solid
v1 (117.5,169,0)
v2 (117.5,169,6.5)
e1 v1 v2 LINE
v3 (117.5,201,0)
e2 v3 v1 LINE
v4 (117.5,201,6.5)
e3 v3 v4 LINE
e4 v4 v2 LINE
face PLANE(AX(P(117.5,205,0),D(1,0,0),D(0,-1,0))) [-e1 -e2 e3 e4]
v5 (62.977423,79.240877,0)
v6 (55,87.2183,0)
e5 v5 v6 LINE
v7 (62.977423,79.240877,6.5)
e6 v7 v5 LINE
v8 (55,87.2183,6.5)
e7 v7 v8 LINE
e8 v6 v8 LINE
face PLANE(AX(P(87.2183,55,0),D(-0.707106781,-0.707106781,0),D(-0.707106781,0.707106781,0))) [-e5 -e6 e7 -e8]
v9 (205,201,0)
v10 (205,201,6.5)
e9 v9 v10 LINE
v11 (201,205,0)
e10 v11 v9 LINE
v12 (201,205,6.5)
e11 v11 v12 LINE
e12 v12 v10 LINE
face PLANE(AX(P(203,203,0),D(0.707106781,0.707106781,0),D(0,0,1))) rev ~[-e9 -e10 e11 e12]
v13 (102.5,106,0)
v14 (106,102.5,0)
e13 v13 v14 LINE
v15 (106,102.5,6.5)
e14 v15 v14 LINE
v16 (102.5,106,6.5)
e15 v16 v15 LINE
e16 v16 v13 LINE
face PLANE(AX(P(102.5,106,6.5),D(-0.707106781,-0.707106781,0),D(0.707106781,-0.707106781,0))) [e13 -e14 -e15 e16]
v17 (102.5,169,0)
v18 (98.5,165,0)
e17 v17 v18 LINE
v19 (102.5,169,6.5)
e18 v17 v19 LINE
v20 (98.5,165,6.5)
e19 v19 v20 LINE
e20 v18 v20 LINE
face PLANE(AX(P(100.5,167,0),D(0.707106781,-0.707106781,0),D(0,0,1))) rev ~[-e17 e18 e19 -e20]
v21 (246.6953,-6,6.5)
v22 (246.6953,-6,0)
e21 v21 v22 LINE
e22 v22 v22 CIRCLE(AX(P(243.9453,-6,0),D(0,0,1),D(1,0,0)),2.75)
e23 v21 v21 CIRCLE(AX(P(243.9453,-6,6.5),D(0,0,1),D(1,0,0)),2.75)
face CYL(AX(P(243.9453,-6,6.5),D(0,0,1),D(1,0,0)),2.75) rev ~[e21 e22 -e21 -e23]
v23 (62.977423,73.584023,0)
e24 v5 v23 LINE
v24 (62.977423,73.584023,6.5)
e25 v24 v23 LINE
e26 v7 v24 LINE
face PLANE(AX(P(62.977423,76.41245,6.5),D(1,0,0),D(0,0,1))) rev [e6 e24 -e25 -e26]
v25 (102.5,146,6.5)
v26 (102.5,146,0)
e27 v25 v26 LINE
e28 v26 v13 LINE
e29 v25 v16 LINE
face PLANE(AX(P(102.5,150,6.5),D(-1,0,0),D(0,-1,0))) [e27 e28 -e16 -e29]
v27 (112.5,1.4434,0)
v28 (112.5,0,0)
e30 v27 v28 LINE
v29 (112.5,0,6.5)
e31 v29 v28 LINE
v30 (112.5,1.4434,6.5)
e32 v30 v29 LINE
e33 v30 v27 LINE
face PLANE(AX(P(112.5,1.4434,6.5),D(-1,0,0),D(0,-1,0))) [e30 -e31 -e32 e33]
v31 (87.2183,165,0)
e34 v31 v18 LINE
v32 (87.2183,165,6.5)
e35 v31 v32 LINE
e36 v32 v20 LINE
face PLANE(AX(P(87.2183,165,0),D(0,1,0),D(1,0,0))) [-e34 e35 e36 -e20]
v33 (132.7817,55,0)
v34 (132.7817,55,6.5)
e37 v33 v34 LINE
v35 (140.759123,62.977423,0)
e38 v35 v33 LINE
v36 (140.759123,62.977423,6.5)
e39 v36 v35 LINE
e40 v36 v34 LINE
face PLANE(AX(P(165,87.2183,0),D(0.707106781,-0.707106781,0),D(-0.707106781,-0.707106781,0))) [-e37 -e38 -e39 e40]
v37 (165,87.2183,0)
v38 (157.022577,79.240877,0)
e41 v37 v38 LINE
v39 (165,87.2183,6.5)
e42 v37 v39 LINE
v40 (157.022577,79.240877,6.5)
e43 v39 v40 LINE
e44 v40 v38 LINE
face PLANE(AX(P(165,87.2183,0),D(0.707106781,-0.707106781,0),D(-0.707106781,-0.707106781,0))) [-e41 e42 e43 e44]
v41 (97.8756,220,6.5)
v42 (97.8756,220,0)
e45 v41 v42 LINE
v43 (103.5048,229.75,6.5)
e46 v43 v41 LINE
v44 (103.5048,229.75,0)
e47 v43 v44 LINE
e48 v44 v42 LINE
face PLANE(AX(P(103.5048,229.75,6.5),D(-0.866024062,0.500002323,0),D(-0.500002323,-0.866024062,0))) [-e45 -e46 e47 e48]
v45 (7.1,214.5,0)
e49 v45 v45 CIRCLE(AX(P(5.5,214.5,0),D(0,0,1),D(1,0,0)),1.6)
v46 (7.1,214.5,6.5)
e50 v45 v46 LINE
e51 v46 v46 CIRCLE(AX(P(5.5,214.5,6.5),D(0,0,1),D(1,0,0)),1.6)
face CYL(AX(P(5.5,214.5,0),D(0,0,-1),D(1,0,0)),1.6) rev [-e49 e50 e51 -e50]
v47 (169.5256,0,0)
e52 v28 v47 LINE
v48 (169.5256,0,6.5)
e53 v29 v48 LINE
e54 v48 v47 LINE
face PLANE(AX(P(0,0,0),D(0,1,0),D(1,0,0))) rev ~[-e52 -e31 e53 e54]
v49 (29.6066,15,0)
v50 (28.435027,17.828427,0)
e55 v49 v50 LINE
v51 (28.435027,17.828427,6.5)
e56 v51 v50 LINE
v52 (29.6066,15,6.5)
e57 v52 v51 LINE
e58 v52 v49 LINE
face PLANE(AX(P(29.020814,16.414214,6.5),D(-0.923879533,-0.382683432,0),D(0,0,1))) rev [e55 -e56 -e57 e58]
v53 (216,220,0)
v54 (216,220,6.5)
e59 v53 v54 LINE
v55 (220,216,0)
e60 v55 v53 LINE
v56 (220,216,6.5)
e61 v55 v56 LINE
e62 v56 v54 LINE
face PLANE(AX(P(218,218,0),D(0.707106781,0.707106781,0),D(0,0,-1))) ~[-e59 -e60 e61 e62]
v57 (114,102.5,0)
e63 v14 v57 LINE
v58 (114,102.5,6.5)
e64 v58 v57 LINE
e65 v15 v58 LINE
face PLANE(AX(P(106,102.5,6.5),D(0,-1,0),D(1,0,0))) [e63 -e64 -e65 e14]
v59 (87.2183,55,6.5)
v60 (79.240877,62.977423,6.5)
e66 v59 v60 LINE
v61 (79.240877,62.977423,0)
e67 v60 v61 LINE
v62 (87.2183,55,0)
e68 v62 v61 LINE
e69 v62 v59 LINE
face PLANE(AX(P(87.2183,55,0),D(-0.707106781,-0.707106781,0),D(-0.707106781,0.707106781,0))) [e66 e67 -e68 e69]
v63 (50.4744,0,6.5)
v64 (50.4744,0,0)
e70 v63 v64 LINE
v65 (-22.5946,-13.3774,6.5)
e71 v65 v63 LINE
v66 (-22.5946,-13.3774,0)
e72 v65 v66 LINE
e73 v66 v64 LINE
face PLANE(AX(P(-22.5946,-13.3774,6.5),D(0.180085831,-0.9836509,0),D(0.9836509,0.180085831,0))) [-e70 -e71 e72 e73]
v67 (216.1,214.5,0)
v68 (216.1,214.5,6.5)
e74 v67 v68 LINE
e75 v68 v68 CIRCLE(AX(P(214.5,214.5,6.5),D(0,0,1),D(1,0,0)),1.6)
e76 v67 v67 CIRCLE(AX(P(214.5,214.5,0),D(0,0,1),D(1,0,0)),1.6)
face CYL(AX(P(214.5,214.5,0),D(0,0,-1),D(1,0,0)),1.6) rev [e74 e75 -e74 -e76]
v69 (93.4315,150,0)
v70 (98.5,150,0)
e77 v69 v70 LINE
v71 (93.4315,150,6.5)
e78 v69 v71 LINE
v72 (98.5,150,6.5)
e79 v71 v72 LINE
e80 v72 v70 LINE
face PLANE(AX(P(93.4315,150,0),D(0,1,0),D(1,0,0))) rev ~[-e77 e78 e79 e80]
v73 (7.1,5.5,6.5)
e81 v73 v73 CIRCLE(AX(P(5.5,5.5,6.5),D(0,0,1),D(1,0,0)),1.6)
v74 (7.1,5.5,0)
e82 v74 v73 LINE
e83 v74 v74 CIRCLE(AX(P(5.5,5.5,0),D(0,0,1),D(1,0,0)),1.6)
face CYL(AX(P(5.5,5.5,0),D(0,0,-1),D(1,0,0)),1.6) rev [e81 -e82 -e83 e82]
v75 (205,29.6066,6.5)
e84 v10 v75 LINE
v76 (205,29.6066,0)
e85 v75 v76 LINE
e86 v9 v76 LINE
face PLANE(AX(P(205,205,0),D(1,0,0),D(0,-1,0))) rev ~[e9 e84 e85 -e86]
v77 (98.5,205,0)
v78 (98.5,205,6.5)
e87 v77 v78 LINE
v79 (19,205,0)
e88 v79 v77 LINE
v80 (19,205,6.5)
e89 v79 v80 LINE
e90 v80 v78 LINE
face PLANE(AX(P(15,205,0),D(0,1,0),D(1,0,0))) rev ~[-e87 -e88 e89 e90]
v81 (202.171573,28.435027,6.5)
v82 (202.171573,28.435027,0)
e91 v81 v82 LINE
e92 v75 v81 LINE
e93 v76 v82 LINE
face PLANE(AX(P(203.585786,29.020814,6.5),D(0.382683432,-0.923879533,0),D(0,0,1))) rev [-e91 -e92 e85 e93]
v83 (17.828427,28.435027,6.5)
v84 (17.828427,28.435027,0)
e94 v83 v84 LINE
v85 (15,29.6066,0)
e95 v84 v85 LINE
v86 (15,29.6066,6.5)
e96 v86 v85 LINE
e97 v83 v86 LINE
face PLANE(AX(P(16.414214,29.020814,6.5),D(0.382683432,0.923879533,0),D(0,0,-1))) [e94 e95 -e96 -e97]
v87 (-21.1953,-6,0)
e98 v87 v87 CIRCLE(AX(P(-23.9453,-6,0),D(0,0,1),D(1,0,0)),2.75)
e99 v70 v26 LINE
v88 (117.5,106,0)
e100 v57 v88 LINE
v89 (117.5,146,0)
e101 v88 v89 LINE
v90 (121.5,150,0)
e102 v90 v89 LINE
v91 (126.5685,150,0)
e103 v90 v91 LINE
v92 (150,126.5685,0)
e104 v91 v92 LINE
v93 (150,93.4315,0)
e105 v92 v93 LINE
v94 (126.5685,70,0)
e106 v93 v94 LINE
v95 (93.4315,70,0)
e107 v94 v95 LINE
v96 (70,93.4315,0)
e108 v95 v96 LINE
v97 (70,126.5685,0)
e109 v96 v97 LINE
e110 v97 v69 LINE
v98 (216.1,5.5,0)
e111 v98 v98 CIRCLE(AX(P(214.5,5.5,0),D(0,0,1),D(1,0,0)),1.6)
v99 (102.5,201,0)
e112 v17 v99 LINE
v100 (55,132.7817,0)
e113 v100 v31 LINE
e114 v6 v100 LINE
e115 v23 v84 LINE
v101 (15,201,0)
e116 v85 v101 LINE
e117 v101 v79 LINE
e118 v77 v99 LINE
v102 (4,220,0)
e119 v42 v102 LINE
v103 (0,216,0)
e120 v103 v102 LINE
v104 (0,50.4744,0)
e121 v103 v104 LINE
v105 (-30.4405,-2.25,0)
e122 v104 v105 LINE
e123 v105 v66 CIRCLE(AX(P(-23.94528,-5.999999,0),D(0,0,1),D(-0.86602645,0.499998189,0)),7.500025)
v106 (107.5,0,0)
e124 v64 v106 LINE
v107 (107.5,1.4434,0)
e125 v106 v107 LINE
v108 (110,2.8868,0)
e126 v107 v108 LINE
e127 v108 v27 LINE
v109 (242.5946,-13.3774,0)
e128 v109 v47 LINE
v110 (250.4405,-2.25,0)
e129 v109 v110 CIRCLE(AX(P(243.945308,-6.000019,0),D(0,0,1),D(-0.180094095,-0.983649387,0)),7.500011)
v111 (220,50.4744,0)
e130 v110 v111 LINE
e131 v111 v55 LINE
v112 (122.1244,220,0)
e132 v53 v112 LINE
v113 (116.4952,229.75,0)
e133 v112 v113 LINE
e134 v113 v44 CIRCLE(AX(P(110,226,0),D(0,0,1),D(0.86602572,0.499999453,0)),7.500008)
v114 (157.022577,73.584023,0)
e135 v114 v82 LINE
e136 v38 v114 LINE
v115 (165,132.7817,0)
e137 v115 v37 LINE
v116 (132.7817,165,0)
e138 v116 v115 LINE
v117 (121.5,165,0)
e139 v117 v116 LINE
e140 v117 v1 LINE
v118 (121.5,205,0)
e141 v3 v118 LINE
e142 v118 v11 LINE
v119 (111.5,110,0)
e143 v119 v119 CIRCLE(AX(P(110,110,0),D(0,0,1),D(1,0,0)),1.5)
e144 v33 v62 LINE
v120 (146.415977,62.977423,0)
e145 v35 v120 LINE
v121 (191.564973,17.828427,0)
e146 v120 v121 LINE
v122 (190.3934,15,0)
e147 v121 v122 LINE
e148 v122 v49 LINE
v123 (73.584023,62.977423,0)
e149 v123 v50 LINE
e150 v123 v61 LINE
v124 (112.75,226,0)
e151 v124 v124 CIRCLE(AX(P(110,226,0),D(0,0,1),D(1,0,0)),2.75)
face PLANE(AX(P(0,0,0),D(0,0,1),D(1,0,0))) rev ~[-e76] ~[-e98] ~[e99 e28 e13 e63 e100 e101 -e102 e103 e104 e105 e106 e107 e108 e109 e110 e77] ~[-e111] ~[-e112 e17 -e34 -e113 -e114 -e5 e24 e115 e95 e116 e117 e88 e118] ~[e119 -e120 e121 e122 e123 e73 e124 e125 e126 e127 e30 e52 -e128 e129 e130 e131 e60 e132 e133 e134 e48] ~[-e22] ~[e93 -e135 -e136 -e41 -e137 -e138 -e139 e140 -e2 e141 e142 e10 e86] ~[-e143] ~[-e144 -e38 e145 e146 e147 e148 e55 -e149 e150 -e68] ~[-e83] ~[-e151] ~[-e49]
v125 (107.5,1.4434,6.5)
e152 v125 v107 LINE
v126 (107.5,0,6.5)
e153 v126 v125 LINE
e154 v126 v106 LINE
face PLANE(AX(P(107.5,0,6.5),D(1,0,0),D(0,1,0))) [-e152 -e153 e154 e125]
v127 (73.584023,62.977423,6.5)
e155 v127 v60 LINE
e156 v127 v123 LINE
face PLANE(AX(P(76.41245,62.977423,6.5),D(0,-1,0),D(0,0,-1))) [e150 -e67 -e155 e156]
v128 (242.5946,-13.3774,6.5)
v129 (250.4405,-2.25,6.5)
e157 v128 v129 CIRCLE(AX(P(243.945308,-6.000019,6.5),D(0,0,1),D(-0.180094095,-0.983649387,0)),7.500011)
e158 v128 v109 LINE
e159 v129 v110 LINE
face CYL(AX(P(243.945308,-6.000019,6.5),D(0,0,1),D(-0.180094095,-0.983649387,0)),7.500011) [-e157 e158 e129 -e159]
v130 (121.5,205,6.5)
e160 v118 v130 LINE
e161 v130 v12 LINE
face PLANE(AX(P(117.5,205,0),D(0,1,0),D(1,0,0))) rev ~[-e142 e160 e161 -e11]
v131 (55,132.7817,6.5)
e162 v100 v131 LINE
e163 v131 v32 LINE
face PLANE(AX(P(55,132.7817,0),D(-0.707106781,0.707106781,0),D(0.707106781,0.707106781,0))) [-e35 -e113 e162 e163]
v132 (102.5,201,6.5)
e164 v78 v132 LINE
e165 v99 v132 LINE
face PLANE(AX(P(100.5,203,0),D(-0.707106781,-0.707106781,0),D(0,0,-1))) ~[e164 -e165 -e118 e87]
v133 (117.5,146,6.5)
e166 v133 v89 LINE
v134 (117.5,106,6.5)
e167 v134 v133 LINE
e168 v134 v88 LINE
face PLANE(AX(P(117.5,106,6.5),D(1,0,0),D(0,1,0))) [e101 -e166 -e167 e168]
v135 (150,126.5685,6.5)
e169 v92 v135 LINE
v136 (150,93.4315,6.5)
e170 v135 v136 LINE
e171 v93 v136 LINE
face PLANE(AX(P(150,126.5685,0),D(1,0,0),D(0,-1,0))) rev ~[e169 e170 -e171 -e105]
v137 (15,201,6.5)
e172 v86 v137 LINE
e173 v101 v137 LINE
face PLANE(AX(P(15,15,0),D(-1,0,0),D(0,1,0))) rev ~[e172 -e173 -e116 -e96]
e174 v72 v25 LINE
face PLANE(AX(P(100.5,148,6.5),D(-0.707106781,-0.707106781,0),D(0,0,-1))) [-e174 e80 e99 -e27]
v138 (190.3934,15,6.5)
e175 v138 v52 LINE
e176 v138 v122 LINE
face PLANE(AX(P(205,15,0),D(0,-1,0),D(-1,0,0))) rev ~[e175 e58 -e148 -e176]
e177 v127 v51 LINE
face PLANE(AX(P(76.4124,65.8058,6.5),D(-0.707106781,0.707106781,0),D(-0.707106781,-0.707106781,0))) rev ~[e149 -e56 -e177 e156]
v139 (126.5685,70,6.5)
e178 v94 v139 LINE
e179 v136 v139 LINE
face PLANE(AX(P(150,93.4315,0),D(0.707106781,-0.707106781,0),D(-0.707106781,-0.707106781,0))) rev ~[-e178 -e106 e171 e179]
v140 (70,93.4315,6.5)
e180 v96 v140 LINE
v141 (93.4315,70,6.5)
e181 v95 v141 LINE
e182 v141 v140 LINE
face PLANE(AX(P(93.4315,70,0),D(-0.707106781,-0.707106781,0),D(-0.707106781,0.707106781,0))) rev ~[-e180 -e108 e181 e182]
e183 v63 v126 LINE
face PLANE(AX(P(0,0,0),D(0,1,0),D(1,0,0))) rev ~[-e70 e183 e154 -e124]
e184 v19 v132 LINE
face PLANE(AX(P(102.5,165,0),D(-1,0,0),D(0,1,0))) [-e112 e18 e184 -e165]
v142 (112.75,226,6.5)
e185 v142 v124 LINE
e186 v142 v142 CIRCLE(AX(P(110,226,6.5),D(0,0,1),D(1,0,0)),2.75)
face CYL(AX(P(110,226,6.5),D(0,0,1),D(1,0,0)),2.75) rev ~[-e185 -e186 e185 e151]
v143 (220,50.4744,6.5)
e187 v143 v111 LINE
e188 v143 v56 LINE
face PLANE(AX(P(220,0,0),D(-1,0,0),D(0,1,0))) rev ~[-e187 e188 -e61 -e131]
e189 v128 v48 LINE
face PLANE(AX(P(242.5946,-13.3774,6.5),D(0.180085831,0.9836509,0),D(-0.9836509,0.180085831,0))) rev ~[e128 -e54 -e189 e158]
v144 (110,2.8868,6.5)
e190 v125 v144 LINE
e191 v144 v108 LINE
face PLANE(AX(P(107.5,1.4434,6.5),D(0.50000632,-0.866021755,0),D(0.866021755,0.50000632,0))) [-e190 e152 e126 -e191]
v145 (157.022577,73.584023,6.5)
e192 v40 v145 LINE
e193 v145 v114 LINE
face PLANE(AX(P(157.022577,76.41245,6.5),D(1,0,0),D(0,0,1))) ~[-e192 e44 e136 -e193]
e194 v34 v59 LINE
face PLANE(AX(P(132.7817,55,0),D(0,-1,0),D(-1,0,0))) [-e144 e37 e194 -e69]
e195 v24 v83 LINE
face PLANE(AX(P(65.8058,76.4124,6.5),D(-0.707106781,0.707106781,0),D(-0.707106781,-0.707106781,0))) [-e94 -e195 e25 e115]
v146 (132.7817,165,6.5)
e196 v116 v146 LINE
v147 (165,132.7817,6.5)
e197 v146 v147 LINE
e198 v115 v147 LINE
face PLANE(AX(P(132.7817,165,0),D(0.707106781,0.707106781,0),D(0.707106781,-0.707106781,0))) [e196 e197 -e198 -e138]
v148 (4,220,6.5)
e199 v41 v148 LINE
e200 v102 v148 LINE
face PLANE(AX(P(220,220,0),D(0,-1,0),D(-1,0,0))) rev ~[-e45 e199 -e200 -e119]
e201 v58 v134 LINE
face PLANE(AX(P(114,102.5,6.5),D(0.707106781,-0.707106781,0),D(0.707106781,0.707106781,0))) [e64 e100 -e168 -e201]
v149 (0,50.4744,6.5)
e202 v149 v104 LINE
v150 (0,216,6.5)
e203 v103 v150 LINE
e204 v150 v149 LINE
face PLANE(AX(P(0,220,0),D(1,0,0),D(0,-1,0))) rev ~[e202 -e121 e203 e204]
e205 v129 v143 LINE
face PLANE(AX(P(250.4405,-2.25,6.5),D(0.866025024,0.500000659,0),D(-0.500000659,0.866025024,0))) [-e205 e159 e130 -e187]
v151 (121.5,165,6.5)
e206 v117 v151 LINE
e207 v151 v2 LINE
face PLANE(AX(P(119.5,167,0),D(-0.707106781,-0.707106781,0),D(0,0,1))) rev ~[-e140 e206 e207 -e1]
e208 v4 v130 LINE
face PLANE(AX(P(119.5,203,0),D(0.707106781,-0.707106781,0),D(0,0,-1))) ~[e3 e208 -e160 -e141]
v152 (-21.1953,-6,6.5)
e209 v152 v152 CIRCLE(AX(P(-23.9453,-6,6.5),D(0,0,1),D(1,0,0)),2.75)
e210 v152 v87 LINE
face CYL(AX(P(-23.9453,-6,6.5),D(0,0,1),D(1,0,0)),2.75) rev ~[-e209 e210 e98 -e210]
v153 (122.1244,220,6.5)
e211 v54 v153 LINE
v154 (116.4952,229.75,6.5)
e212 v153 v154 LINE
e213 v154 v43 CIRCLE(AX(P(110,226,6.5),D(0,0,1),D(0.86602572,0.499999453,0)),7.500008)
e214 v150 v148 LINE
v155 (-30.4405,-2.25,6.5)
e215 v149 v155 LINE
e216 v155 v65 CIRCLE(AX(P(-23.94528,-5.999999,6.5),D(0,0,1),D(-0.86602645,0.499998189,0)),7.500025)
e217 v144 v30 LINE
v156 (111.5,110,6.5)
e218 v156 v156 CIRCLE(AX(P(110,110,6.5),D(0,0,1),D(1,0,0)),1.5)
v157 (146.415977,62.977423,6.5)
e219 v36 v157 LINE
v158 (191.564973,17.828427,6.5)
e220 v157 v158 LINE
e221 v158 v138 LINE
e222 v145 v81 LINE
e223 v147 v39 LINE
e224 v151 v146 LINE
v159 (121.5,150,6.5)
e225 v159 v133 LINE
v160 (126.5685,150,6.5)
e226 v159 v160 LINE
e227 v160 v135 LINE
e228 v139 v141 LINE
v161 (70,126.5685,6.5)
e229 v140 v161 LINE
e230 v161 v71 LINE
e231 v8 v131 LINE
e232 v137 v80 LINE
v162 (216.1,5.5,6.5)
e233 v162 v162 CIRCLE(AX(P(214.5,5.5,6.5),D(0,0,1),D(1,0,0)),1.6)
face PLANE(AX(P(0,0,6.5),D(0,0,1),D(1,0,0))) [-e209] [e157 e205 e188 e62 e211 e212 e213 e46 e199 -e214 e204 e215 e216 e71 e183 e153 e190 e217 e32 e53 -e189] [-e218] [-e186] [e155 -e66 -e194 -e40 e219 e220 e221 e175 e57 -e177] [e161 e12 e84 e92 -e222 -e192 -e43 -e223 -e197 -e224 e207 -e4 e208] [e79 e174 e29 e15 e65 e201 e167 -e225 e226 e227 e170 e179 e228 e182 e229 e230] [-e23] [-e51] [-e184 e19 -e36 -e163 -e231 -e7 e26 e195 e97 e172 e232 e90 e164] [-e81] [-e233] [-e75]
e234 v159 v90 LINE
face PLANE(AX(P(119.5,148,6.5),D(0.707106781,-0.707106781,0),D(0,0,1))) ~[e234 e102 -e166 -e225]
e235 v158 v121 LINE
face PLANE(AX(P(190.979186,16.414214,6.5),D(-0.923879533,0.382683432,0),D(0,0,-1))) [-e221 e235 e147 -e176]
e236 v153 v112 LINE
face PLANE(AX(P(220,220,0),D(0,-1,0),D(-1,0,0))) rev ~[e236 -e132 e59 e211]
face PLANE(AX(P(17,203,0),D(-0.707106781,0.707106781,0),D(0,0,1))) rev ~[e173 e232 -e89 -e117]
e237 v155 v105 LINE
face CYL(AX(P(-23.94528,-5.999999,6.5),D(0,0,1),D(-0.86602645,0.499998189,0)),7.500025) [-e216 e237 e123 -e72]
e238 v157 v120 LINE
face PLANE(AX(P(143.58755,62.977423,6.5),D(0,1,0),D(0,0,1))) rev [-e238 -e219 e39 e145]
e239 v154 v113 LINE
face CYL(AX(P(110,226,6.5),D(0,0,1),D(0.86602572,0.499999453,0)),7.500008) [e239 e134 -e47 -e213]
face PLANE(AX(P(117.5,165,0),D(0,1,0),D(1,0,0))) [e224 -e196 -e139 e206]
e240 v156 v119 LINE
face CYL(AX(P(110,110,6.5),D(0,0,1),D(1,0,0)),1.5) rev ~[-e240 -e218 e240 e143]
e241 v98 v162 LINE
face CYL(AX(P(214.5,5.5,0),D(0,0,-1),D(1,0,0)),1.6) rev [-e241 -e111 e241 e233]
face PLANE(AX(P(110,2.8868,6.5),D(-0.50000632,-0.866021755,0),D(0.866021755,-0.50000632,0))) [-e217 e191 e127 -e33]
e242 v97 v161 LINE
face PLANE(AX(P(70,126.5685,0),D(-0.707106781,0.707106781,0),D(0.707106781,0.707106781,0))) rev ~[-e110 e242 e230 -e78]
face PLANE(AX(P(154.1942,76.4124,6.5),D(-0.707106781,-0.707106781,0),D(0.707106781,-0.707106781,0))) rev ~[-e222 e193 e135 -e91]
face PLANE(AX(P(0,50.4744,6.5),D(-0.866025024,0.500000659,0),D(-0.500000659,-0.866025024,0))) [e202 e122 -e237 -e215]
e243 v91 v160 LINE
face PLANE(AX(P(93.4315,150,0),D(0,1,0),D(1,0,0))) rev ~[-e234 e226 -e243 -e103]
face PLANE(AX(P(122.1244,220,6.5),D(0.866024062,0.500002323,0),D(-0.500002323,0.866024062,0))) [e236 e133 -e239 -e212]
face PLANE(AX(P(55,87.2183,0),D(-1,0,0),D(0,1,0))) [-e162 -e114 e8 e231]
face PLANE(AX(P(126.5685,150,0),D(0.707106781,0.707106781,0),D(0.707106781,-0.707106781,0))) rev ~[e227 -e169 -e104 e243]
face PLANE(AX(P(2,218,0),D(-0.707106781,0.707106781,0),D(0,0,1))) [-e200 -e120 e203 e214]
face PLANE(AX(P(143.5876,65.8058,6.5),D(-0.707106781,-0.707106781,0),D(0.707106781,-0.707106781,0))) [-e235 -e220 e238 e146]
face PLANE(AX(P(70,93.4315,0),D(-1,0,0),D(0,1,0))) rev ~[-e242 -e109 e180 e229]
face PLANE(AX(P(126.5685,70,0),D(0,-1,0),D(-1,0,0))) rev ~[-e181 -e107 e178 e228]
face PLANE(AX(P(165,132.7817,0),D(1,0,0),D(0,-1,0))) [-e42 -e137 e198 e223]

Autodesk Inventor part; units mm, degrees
ref_plane "YZ Plane" through (0, 0, 0) normal (1, 0, 0) x (0, 1, 0)
ref_plane "XZ Plane" through (0, 0, 0) normal (0, 1, 0) x (-1, 0, 0)
ref_plane "XY Plane" through (0, 0, 0) normal (0, 0, 1) x (1, 0, 0)
sketch "Sketch1" plane through (0, 0, 0) normal (0, 0, 1) x (1, 0, 0)
  line L0 (0, 0) -> (220, 0)
  line L1 (220, 0) -> (220, 220)
  line L2 (220, 220) -> (0, 220)
  line L3 (0, 220) -> (0, 0)
  line L4 (5.5, 214.5) -> (214.5, 214.5) construction
  line L5 (214.5, 214.5) -> (214.5, 5.5) construction
  line L6 (214.5, 5.5) -> (5.5, 5.5) construction
  line L7 (5.5, 5.5) -> (5.5, 214.5) construction
  circle A0 centre (5.5, 5.5) radius 1.6
  circle A1 centre (5.5, 214.5) radius 1.6
  circle A2 centre (214.5, 214.5) radius 1.6
  circle A3 centre (214.5, 5.5) radius 1.6
  line L8 (165, 87.2183) -> (132.7817, 55)
  line L9 (132.7817, 55) -> (87.2183, 55)
  line L10 (87.2183, 55) -> (55, 87.2183)
  line L11 (55, 87.2183) -> (55, 132.7817)
  line L12 (55, 132.7817) -> (87.2183, 165)
  line L13 (132.7817, 165) -> (165, 132.7817)
  line L14 (165, 132.7817) -> (165, 87.2183)
  line L15 (150, 126.5685) -> (150, 93.4315)
  line L16 (150, 93.4315) -> (126.5685, 70)
  line L17 (126.5685, 70) -> (93.4315, 70)
  line L18 (93.4315, 70) -> (70, 93.4315)
  line L19 (70, 93.4315) -> (70, 126.5685)
  line L20 (70, 126.5685) -> (93.4315, 150)
  line L21 (93.4315, 150) -> (126.5685, 150)
  line L22 (126.5685, 150) -> (150, 126.5685)
  line L23 (205, 205) -> (205, 15)
  line L24 (205, 15) -> (15, 15)
  line L25 (15, 15) -> (15, 205)
  line L26 (102.5, 165) -> (102.5, 205)
  line L27 (117.5, 205) -> (117.5, 165)
  line L28 (15, 205) -> (102.5, 205)
  line L29 (117.5, 205) -> (205, 205)
  line L30 (87.2183, 165) -> (102.5, 165)
  line L31 (117.5, 165) -> (132.7817, 165)
  point P0 (214.5, 110)
  point P1 (220, 110)
  point P2 (110, 214.5)
  point P3 (110, 220)
  point P4 (110, 110)
  point P5 (110, 110)
  dimension "d0" = 220
  dimension "d1" = 220
  dimension "d2" = 209
  dimension "d3" = 209
  dimension "d4" = 3.2
  dimension "d5" = 3.2
  dimension "d6" = 3.2
  dimension "d7" = 3.2
  dimension "d9" = 15
  dimension "d10" = 15
  dimension "d11" = 15
  dimension "d12" = 15
  dimension "d13" = 15
  dimension "d14" = 80
  dimension "d15" = 7.5
extrude "Extrusion1" add sketch "Sketch1" along normal blind 6.5
sketch "Sketch2" plane through (0, 0, 6.5) normal (0, 0, 1) x (1, 0, 0)
  line L0 (205, 205) -> (205, 15) projected
  line L1 (205, 15) -> (15, 15) projected
  line L2 (15, 15) -> (15, 205) projected
  line L3 (55, 87.2183) -> (87.2183, 55) projected
  line L4 (132.7817, 55) -> (165, 87.2183) projected
  line L5 (0, 220) -> (0, 0) projected
  line L6 (65.8058, 76.4124) -> (15, 25.6066)
  line L7 (76.4124, 65.8058) -> (25.6066, 15)
  line L8 (143.5876, 65.8058) -> (194.3934, 15)
  line L9 (154.1942, 76.4124) -> (205, 25.6066)
  line L10 (205, 25.6066) -> (205, 15)
  line L11 (205, 15) -> (194.3934, 15)
  line L12 (15, 25.6066) -> (15, 15)
  line L13 (15, 15) -> (25.6066, 15)
  line L14 (15, 15) -> (71.1091, 71.1091) construction
  line L15 (148.8909, 71.1091) -> (205, 15) construction
  line L16 (65.8058, 76.4124) -> (76.4124, 65.8058)
  line L17 (143.5876, 65.8058) -> (154.1942, 76.4124)
  dimension "d18" = 15
  dimension "d19" = 15
  dimension "d20" = 7.5
  dimension "d21" = 7.5
extrude "Extrusion2" add sketch "Sketch2" against normal blind 6.5
sketch "Sketch4" plane through (0, 0, 6.5) normal (0, 0, 1) x (1, 0, 0)
  line L0 (93.4315, 150) -> (126.5685, 150) projected
  line L1 (0, 0) -> (220, 0) projected
  line L2 (220, 0) -> (220, 220) projected
  line L3 (220, 220) -> (0, 220) projected
  line L4 (0, 220) -> (0, 0) projected
  line L5 (-23.9453, -6) -> (243.9453, -6) construction
  line L6 (-23.9453, -6) -> (110, 226) construction
  line L7 (110, 226) -> (243.9453, -6) construction
  circle A0 centre (110, 226) radius 2.75
  circle A1 centre (243.9453, -6) radius 2.75
  circle A2 centre (-23.9453, -6) radius 2.75
  arc A3 (-30.4405, -2.25) -> (-22.5946, -13.3774) centre (-23.9453, -6) ccw
  arc A4 (116.4952, 229.75) -> (103.5048, 229.75) centre (110, 226) ccw
  arc A5 (242.5946, -13.3774) -> (250.4405, -2.25) centre (243.9453, -6) ccw
  line L8 (122.1244, 220) -> (116.4952, 229.75)
  line L9 (103.5048, 229.75) -> (97.8756, 220)
  line L10 (0, 50.4744) -> (-30.4405, -2.25)
  line L11 (250.4405, -2.25) -> (220, 50.4744)
  line L12 (242.5946, -13.3774) -> (169.5256, 0)
  line L13 (-22.5946, -13.3774) -> (50.4744, 0)
  line L14 (0, 50.4744) -> (0, 0)
  line L15 (0, 0) -> (50.4744, 0)
  line L16 (169.5256, 0) -> (220, 0)
  line L17 (220, 50.4744) -> (220, 0)
  point P0 (110, 150)
  dimension "d30" = 5.5
  dimension "d31" = 5.5
  dimension "d32" = 5.5
  dimension "d33" = 15
  dimension "d34" = 15
  dimension "d35" = 15
  dimension "d36" = 6
  dimension "d37" = 6
extrude "Extrusion3" add sketch "Sketch4" against normal blind 6.5 contours L1 L13 A3 L10 L4 | L1 L2 L11 A5 L12 | L9 A4 L8 L3
chamfer "Chamfer1" distance 4 angle 45 16 edges at (25.6066, 15, 3.25) (15, 25.6066, 3.25) (76.4124, 65.8058, 3.25) (65.8058, 76.4124, 3.25) (194.3934, 15, 3.25) (205, 25.6066, 3.25) (143.5876, 65.8058, 3.25) (154.1942, 76.4124, 3.25) (117.5, 205, 3.25) (102.5, 205, 3.25) (117.5, 165, 3.25) (102.5, 165, 3.25) (205, 205, 3.25) (15, 205, 3.25) (0, 220, 3.25) (220, 220, 3.25)
sketch "Sketch5" plane through (0, 0, 6.5) normal (0, 0, 1) x (1, 0, 0)
  line L0 (117.5, 169) -> (117.5, 201) projected
  line L1 (28.435, 17.8284) -> (29.6066, 15) projected
  line L2 (15, 29.6066) -> (17.8284, 28.435) projected
  line L3 (102.5, 201) -> (102.5, 169) projected
  line L4 (93.4315, 150) -> (126.5685, 150) projected
  line L5 (0, 216) -> (4, 220) projected
  line L6 (220, 50.4744) -> (220, 216) projected
  line L7 (70, 126.5685) -> (150, 93.4315) construction
  line L8 (150, 126.5685) -> (70, 93.4315) construction
  line L9 (102.5, 150) -> (102.5, 106)
  line L10 (102.5, 106) -> (106, 102.5)
  line L11 (106, 102.5) -> (114, 102.5)
  line L12 (114, 102.5) -> (117.5, 106)
  line L13 (117.5, 106) -> (117.5, 150)
  circle A0 centre (110, 110) radius 1.5
  point P0 (0, 0)
  dimension "d43" = 3
  dimension "d44" = 8
  dimension "d45" = 7.5
  dimension "d46" = 7.5
extrude "Extrusion4" add sketch "Sketch5" against normal blind 6.5
chamfer "Chamfer2" distance 4 angle 45 2 edges at (102.5, 150, 3.25) (117.5, 150, 3.25)
sketch "Sketch6" plane through (0, 0, 6.5) normal (0, 0, 1) x (1, 0, 0)
  line L0 (50.4744, 0) -> (169.5256, 0) projected
  line L1 (107.5, 0) -> (107.5, 1.4434)
  line L2 (107.5, 1.4434) -> (110, 2.8868)
  line L3 (110, 2.8868) -> (112.5, 1.4434)
  line L4 (112.5, 1.4434) -> (112.5, 0)
  line L5 (107.5, 0) -> (112.5, 0)
  point P0 (0, 0)
  point P1 (110, 0)
  dimension "d52" = 5
extrude "Extrusion5" cut sketch "Sketch6" against normal through all
equation "\"d5\" = d4"
equation "\"d6\" = d4"
equation "\"d7\" = d4"
equation "\"d31\" = d30"
equation "\"d32\" = d30"
equation "\"d34\" = d33"
equation "\"d35\" = d33"
equation "\"d46\" = d45"
properties part number "heatbed_mount_v3" material "Plywood, Finish"
